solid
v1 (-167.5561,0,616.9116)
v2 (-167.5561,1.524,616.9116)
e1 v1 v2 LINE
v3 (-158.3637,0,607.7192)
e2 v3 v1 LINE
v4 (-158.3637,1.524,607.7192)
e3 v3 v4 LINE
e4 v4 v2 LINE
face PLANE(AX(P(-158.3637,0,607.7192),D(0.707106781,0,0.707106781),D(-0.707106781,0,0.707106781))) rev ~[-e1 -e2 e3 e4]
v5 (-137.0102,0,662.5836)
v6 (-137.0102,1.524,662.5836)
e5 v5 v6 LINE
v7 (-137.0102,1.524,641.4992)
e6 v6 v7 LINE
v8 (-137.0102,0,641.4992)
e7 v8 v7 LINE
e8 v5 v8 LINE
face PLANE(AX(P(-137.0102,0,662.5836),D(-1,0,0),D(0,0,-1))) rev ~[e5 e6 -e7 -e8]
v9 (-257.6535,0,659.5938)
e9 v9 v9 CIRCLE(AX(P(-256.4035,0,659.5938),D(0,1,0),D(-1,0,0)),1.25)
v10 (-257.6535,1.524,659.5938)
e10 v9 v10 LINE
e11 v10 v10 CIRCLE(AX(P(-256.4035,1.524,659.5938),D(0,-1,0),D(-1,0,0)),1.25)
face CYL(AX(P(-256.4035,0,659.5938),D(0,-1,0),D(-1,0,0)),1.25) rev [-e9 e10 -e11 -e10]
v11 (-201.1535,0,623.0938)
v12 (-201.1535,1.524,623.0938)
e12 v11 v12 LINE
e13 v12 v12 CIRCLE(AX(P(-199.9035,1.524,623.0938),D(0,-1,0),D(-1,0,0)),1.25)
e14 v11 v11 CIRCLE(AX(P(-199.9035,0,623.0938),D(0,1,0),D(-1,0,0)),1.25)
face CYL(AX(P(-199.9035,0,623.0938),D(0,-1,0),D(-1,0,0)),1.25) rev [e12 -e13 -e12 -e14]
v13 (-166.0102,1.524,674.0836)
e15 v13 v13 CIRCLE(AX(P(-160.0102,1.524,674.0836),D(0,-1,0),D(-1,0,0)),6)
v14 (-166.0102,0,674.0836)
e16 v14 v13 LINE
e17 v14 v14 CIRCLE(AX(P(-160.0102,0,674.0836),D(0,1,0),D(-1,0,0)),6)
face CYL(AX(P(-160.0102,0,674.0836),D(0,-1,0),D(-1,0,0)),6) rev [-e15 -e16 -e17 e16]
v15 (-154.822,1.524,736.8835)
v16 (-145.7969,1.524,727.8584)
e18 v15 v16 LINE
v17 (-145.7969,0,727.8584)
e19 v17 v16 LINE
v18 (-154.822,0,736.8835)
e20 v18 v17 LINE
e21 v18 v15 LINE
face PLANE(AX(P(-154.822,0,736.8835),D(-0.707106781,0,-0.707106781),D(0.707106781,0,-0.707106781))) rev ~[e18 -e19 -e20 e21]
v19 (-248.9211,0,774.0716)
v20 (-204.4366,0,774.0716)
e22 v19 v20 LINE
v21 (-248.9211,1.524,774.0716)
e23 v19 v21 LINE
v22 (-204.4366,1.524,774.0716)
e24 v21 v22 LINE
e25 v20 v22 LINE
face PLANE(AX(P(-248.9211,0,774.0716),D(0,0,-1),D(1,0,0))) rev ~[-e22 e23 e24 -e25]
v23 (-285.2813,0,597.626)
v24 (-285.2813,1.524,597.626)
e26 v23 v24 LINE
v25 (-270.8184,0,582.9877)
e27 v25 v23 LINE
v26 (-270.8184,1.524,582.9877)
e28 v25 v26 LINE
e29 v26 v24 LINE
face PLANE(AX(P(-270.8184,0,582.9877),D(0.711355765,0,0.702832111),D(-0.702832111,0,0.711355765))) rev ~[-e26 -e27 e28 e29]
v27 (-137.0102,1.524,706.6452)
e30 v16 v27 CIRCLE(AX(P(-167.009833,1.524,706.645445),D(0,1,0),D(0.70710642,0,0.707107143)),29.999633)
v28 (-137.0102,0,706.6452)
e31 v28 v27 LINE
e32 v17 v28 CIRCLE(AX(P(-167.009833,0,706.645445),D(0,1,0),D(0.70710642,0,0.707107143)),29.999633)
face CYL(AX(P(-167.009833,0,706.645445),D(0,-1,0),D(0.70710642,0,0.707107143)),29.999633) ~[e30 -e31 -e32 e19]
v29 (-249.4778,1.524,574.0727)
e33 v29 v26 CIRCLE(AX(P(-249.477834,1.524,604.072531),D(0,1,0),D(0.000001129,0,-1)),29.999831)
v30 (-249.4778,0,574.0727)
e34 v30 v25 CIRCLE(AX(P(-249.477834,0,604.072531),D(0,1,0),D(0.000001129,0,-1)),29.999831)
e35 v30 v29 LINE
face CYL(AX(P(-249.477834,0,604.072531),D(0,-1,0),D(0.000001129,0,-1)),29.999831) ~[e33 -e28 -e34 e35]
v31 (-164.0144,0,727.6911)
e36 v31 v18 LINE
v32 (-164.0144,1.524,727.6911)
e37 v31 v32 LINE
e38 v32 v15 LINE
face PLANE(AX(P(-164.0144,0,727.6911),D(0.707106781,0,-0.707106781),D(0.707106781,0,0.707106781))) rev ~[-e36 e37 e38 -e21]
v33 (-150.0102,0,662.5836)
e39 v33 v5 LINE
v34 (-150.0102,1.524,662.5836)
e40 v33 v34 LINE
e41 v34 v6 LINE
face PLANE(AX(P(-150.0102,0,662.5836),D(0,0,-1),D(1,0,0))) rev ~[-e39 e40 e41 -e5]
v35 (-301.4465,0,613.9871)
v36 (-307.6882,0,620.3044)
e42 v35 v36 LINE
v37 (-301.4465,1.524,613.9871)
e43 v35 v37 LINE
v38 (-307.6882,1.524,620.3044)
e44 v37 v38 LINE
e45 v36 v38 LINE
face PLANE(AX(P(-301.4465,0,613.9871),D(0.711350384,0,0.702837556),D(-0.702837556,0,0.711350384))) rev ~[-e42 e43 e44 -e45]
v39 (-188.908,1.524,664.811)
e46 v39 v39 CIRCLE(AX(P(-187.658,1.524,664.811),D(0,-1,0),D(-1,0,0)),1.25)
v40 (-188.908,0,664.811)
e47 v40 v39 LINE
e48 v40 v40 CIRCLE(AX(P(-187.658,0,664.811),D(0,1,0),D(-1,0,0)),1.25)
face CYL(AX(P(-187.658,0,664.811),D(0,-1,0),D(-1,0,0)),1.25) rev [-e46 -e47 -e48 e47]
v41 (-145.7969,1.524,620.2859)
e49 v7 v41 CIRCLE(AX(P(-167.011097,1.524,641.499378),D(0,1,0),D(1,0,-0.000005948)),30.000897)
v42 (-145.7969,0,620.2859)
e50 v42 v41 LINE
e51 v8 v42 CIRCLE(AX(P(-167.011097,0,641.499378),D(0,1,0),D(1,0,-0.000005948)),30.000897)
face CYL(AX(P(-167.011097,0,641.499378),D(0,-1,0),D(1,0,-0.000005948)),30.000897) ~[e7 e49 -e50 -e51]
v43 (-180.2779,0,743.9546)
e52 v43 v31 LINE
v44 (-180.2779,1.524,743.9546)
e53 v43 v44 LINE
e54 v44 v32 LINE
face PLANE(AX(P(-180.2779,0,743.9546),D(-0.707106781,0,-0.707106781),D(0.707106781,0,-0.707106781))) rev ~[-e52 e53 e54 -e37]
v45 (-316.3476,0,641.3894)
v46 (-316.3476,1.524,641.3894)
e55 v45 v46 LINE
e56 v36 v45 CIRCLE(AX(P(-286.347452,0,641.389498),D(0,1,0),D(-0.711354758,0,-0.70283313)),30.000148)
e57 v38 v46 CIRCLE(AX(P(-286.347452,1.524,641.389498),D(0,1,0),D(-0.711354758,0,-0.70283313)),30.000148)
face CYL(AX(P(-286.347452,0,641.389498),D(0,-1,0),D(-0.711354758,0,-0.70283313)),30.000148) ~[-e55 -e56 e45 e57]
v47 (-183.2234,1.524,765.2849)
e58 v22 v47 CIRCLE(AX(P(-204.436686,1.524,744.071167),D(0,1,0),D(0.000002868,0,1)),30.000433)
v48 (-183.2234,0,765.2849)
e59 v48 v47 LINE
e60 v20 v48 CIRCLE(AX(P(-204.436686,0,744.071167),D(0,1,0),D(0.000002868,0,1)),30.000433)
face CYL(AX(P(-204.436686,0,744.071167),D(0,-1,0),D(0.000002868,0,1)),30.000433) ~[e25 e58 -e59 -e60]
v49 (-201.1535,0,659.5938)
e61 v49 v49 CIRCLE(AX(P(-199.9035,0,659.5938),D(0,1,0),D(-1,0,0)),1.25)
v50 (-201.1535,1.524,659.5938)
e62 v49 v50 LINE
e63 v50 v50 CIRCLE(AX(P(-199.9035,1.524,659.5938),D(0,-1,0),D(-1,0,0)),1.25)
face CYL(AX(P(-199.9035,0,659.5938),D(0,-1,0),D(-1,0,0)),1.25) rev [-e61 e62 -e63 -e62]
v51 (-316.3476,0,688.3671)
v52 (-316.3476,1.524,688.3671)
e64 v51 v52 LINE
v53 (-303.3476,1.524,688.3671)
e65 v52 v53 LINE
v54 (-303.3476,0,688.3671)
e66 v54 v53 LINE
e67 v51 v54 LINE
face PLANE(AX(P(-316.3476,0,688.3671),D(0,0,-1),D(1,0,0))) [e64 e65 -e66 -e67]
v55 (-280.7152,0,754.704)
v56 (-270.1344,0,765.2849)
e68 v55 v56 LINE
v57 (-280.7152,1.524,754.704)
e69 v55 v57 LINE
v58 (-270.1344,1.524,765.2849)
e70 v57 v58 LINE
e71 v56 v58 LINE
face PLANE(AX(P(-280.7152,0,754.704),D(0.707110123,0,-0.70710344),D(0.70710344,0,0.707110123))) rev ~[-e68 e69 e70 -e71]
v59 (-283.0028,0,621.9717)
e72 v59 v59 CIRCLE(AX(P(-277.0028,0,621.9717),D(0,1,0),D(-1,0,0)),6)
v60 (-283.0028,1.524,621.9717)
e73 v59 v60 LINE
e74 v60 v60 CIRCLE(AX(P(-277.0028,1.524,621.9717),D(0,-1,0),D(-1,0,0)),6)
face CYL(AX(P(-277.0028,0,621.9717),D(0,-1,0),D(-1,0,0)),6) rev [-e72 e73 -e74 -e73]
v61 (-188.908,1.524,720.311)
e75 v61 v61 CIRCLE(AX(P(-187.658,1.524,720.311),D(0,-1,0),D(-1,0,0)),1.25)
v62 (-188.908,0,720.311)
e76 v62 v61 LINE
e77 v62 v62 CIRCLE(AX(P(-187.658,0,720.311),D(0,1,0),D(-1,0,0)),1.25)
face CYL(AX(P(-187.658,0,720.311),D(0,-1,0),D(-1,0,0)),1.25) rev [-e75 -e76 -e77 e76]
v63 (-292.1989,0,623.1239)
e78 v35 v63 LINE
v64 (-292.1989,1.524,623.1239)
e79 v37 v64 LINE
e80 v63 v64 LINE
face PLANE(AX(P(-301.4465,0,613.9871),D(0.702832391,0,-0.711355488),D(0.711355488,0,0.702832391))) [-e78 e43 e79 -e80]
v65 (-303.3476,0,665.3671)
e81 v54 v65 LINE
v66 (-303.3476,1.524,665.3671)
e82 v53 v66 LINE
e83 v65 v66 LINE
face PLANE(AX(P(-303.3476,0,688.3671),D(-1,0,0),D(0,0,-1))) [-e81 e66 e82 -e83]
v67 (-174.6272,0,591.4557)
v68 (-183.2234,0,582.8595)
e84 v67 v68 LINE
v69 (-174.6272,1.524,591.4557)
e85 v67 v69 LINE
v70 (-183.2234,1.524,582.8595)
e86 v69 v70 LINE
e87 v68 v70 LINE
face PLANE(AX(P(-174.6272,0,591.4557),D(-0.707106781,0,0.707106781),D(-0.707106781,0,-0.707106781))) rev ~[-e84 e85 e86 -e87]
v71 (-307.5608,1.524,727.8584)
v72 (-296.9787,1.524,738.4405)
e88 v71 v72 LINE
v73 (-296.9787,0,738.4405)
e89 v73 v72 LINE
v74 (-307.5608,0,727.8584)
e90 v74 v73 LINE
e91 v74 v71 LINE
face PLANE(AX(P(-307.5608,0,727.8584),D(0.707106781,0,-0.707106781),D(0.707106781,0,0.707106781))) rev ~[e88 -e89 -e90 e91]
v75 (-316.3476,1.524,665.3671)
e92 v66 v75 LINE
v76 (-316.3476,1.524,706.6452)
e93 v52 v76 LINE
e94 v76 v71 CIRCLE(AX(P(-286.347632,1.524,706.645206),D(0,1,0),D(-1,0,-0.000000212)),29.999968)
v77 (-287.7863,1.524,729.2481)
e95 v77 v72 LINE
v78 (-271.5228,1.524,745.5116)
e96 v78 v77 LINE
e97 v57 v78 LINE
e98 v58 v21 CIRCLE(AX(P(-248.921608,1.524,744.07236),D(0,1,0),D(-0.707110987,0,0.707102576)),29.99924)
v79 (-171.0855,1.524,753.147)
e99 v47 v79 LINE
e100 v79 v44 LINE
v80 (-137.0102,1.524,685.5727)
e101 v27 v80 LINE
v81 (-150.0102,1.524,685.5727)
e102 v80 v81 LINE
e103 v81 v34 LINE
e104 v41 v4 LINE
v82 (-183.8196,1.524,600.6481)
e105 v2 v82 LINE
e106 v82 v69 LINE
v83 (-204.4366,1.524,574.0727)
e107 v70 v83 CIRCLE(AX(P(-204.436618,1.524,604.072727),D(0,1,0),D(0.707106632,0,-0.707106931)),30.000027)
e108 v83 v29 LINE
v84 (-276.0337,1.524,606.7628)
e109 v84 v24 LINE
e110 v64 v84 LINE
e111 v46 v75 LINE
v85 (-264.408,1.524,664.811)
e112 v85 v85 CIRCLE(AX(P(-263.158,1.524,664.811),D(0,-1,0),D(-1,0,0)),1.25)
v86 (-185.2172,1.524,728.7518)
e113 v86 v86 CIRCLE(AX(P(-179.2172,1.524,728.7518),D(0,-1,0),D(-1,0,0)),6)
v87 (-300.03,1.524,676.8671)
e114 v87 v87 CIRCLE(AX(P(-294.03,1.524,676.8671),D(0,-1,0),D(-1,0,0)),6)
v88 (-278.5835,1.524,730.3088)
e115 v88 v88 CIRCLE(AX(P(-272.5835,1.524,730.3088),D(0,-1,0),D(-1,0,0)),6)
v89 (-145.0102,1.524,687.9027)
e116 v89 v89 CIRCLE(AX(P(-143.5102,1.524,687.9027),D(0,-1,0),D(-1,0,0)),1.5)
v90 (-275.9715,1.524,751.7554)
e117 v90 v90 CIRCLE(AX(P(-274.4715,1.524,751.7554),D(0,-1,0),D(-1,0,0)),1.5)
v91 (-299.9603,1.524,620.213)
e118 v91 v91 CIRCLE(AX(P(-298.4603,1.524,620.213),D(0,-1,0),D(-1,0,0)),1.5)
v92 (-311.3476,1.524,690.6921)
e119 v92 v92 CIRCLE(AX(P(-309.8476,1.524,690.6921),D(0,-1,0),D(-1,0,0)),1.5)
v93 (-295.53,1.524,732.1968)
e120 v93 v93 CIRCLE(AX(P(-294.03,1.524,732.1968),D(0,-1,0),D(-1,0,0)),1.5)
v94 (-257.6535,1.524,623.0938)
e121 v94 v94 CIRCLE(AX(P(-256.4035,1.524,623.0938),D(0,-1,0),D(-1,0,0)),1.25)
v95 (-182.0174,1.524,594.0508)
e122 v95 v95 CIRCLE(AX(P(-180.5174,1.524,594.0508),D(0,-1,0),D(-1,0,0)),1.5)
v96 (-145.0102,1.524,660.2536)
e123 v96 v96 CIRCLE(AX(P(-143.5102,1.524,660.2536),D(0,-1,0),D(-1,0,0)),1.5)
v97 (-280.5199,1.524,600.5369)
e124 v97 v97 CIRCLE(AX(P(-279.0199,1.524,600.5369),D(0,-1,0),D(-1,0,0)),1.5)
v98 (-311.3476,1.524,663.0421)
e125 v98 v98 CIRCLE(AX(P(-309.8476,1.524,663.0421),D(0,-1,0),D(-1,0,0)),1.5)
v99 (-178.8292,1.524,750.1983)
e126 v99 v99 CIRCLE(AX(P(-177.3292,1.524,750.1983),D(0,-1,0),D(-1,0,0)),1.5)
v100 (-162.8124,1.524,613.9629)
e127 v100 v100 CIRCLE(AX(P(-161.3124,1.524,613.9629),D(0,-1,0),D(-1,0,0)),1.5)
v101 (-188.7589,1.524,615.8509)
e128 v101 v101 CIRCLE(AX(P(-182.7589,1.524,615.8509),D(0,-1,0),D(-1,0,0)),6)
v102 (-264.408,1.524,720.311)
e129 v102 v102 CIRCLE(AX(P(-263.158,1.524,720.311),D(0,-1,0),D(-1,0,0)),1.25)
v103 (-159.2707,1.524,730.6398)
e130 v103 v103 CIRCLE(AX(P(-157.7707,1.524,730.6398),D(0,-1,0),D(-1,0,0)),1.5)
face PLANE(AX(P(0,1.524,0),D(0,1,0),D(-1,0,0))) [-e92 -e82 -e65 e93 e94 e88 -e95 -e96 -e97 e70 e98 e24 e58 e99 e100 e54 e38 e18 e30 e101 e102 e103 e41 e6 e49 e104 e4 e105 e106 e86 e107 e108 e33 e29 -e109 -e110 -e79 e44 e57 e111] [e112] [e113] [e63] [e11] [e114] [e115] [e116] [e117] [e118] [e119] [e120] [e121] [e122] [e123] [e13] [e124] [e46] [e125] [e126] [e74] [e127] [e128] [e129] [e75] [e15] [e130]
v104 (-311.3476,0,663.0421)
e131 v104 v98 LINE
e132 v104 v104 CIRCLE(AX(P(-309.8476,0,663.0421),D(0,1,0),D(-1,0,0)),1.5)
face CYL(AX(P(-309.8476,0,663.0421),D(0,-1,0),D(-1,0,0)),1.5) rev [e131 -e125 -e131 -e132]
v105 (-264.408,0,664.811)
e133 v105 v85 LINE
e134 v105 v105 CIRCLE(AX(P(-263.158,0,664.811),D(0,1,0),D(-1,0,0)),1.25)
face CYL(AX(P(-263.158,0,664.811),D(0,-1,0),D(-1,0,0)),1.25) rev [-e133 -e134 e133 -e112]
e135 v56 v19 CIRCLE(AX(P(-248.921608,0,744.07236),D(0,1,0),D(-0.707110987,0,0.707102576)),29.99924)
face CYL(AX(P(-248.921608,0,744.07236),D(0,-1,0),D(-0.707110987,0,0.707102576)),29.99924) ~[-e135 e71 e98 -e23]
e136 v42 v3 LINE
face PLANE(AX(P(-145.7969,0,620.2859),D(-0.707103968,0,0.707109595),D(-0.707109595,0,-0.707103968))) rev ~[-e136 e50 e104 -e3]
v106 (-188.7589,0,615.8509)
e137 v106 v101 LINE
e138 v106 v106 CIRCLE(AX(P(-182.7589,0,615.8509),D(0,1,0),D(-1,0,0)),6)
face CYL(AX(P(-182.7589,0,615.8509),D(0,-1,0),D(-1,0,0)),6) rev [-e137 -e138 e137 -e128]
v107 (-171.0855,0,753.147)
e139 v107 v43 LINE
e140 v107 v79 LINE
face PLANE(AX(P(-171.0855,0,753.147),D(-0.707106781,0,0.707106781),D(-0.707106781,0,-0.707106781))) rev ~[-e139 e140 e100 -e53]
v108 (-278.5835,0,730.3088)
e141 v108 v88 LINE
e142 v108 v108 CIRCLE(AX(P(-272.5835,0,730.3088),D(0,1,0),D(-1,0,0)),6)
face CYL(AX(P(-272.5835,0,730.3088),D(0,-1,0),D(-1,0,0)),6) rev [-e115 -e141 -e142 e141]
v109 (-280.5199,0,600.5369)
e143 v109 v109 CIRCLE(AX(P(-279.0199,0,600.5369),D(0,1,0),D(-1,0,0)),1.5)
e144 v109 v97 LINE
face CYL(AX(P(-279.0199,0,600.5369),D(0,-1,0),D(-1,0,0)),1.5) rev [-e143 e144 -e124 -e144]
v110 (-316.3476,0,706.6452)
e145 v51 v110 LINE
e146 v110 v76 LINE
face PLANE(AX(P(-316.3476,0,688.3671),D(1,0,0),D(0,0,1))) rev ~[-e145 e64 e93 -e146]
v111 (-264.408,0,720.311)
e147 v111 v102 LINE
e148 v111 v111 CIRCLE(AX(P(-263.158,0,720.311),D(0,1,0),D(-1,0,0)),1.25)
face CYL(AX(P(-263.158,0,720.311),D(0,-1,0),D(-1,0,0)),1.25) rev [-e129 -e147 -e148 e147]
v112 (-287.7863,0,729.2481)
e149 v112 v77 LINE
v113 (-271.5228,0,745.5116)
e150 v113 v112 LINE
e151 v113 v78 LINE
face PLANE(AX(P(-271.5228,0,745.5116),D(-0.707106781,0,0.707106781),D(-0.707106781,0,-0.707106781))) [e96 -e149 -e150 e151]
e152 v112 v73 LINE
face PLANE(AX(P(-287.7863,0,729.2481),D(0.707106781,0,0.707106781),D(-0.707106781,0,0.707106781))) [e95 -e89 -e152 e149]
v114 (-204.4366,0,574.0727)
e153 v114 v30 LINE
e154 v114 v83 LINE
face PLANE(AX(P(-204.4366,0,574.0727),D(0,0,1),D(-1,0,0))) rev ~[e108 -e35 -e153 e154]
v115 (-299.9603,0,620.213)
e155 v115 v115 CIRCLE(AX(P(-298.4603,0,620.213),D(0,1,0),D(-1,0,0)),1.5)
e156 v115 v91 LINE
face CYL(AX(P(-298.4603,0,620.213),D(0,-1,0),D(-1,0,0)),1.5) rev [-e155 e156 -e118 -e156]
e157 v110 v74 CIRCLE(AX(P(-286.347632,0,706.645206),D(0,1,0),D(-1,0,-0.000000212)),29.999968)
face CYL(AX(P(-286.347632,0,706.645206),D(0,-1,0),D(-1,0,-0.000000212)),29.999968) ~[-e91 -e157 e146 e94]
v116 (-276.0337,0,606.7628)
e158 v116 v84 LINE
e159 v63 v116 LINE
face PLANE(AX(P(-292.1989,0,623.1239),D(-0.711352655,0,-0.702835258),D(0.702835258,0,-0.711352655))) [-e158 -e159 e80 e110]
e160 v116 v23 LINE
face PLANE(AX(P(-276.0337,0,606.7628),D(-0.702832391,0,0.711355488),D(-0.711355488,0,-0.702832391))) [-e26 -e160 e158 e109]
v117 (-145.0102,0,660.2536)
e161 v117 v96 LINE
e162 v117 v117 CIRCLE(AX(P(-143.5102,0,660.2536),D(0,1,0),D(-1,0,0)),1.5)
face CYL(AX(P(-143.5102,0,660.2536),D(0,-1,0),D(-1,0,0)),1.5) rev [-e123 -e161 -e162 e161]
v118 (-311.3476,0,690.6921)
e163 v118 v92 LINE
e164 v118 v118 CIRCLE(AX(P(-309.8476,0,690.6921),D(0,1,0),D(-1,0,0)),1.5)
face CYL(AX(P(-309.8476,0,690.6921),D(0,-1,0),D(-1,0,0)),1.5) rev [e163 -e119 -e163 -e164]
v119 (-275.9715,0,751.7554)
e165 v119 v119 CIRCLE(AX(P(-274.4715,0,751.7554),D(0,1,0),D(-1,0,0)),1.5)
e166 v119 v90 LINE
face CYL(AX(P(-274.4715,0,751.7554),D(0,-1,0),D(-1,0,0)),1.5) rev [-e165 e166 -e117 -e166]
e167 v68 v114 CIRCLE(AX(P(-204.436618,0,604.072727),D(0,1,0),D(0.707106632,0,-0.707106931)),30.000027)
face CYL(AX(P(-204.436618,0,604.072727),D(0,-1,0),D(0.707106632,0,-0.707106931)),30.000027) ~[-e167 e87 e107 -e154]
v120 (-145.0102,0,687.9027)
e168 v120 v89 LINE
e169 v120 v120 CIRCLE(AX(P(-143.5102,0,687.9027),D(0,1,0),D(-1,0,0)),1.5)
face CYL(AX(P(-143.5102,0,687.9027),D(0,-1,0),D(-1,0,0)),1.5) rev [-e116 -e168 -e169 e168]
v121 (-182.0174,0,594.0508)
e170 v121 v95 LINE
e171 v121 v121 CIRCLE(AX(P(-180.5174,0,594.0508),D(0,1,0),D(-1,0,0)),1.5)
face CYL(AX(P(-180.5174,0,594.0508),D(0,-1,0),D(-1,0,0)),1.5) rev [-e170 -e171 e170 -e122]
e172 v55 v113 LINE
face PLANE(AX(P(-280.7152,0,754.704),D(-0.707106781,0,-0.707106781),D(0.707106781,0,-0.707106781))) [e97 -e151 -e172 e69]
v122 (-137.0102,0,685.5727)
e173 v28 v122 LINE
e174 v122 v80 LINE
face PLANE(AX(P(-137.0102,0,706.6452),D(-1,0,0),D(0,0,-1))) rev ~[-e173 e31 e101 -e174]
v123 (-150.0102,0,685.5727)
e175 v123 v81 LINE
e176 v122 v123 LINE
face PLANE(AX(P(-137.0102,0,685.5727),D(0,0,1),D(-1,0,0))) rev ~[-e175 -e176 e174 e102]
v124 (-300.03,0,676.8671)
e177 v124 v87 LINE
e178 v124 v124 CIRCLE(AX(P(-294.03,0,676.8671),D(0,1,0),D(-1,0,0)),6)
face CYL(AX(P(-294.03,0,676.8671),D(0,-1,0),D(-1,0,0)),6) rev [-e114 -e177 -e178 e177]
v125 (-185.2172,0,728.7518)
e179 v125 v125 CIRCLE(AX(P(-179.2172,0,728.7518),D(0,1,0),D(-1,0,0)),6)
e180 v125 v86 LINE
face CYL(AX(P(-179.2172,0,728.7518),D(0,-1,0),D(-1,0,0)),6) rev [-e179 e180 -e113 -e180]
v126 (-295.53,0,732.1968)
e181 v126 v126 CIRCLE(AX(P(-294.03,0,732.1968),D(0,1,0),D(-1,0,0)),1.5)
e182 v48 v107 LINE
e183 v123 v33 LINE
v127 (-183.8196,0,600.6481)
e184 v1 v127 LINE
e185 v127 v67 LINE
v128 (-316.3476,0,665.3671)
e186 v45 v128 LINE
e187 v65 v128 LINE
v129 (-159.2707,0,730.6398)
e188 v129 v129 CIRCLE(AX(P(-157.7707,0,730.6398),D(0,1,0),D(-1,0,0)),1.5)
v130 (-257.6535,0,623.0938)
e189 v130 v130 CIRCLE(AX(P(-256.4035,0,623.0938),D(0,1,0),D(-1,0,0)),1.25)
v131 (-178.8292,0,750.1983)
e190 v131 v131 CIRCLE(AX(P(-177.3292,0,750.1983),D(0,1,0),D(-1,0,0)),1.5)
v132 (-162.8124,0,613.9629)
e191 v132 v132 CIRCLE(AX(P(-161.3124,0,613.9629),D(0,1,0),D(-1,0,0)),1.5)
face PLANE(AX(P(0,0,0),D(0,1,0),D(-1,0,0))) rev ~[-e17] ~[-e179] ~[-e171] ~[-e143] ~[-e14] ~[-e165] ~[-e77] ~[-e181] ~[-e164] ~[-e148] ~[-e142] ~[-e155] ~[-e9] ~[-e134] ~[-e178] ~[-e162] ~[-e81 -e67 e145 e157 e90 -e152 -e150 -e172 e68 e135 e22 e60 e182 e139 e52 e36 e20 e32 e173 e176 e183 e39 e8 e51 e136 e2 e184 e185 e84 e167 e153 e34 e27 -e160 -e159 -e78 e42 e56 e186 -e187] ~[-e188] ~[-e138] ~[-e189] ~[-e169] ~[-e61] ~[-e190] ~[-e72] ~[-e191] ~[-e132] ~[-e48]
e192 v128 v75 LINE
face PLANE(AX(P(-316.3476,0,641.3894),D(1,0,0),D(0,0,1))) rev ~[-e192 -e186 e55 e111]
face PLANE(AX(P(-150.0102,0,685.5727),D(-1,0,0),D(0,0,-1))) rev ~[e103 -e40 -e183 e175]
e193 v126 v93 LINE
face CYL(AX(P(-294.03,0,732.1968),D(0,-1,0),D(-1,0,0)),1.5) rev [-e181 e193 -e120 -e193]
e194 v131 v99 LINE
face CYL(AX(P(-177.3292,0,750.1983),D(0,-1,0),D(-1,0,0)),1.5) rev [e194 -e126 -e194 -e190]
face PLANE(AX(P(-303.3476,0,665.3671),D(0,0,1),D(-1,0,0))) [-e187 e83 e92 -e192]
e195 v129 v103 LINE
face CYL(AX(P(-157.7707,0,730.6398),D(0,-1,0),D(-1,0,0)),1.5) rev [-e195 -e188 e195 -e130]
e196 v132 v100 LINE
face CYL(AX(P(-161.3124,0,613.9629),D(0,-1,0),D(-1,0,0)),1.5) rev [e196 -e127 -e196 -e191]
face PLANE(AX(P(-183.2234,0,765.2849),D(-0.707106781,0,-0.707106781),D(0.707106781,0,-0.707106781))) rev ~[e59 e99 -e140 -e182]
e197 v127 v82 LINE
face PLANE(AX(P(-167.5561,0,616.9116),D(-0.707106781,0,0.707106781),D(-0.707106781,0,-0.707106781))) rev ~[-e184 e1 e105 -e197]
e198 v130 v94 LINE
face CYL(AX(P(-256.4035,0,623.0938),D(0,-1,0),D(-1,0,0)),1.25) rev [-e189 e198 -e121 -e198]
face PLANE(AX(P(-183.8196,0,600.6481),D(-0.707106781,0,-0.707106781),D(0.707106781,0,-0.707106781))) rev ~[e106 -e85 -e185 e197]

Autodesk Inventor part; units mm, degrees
ref_plane "YZ Plane" through (0, 0, 0) normal (1, 0, 0) x (0, 1, 0)
ref_plane "XZ Plane" through (0, 0, 0) normal (0, 1, 0) x (-1, 0, 0)
ref_plane "XY Plane" through (0, 0, 0) normal (0, 0, 1) x (1, 0, 0)
sketch "Sketch1" plane through (0, 0, 0) normal (0, 1, 0) x (-1, 0, 0)
  line L0 (248.9211, 774.0716) -> (204.4366, 774.0716)
  line L1 (204.4366, 574.0727) -> (249.4778, 574.0727)
  line L2 (316.3476, 688.3671) -> (303.3476, 688.3671)
  line L3 (303.3476, 688.3671) -> (303.3476, 665.3671)
  line L4 (303.3476, 665.3671) -> (316.3476, 665.3671)
  line L5 (137.0102, 685.5727) -> (150.0102, 685.5727)
  line L6 (150.0102, 685.5727) -> (150.0102, 662.5836)
  line L7 (150.0102, 662.5836) -> (137.0102, 662.5836)
  line L8 (316.3476, 641.3894) -> (316.3476, 665.3671)
  line L9 (316.3476, 688.3671) -> (316.3476, 706.6452)
  line L10 (137.0102, 706.6452) -> (137.0102, 685.5727)
  line L11 (137.0102, 662.5836) -> (137.0102, 641.4992)
  line L12 (280.7152, 754.704) -> (271.5228, 745.5116)
  line L13 (271.5228, 745.5116) -> (287.7863, 729.2481)
  line L14 (287.7863, 729.2481) -> (296.9787, 738.4405)
  line L15 (158.3637, 607.7192) -> (167.5561, 616.9116)
  line L16 (167.5561, 616.9116) -> (183.8196, 600.6481)
  line L17 (183.8196, 600.6481) -> (174.6272, 591.4557)
  line L18 (145.7969, 620.2859) -> (158.3637, 607.7192)
  line L19 (174.6272, 591.4557) -> (183.2234, 582.8595)
  line L20 (307.5608, 727.8584) -> (296.9787, 738.4405)
  line L21 (280.7152, 754.704) -> (270.1344, 765.2849)
  line L22 (171.0855, 753.147) -> (180.2779, 743.9546)
  line L23 (180.2779, 743.9546) -> (164.0144, 727.6911)
  line L24 (164.0144, 727.6911) -> (154.822, 736.8835)
  line L25 (301.4465, 613.9871) -> (292.1989, 623.1239)
  line L26 (292.1989, 623.1239) -> (276.0337, 606.7628)
  line L27 (276.0337, 606.7628) -> (285.2813, 597.626)
  line L28 (270.8184, 582.9877) -> (285.2813, 597.626)
  line L29 (301.4465, 613.9871) -> (307.6882, 620.3044)
  line L30 (183.2234, 765.2849) -> (171.0855, 753.147)
  line L31 (154.822, 736.8835) -> (145.7969, 727.8584)
  arc A0 (261.9333, 773.4859) -> (260.5191, 774.0716) centre (260.5191, 772.0716) ccw
  arc A1 (270.1344, 765.2849) -> (248.9211, 774.0716) centre (248.9211, 744.0716) ccw
  arc A2 (204.4366, 774.0716) -> (183.2234, 765.2849) centre (204.4366, 744.0716) ccw
  arc A3 (145.7969, 727.8584) -> (137.0102, 706.6452) centre (167.0102, 706.6452) ccw
  arc A4 (137.0102, 641.4992) -> (145.7969, 620.2859) centre (167.0102, 641.4992) ccw
  arc A5 (183.2234, 582.8595) -> (204.4366, 574.0727) centre (204.4366, 604.0727) ccw
  arc A6 (249.4778, 574.0727) -> (270.8184, 582.9877) centre (249.4778, 604.0727) ccw
  arc A7 (307.6882, 620.3044) -> (316.3476, 641.3894) centre (286.3476, 641.3894) ccw
  arc A8 (316.3476, 706.6452) -> (307.5608, 727.8584) centre (286.3476, 706.6452) ccw
  circle A9 centre (279.0199, 600.5369) radius 1.5
  circle A10 centre (309.8476, 663.0421) radius 1.5
  circle A11 centre (309.8476, 690.6921) radius 1.5
  circle A12 centre (294.03, 732.1968) radius 1.5
  circle A13 centre (274.4715, 751.7554) radius 1.5
  circle A14 centre (157.7707, 730.6398) radius 1.5
  circle A15 centre (143.5102, 687.9027) radius 1.5
  circle A16 centre (143.5102, 660.2536) radius 1.5
  circle A17 centre (161.3124, 613.9629) radius 1.5
  circle A18 centre (177.3292, 750.1983) radius 1.5
  circle A19 centre (180.5174, 594.0508) radius 1.5
  circle A20 centre (298.4603, 620.213) radius 1.5
  circle A21 centre (263.158, 720.311) radius 1.25
  circle A22 centre (187.658, 720.311) radius 1.25
  circle A23 centre (263.158, 664.811) radius 1.25
  circle A24 centre (187.658, 664.811) radius 1.25
  line L32 (263.158, 720.311) -> (187.658, 720.311)
  line L33 (263.158, 664.811) -> (187.658, 664.811)
  line L34 (263.158, 720.311) -> (263.158, 664.811)
  line L35 (187.658, 720.311) -> (187.658, 664.811)
  circle A25 centre (256.4035, 659.5938) radius 1.25
  circle A26 centre (199.9035, 659.5938) radius 1.25
  circle A27 centre (256.4035, 623.0938) radius 1.25
  circle A28 centre (199.9035, 623.0938) radius 1.25
  line L36 (256.4035, 659.5938) -> (199.9035, 659.5938)
  line L37 (256.4035, 659.5938) -> (256.4035, 623.0938)
  line L38 (256.4035, 623.0938) -> (199.9035, 623.0938)
  line L39 (199.9035, 623.0938) -> (199.9035, 659.5938)
  circle A29 centre (179.2172, 728.7518) radius 6
  circle A30 centre (160.0102, 674.0836) radius 6
  circle A31 centre (182.7589, 615.8509) radius 6
  circle A32 centre (277.0028, 621.9717) radius 6
  circle A33 centre (294.03, 676.8671) radius 6
  circle A34 centre (272.5835, 730.3088) radius 6
  point P0 (0, 0)
  point P1 (316.3476, 774.0716)
  point P2 (137.0102, 574.0727)
  point P3 (137.0102, 774.0716)
  point P4 (317.0102, 574.0727)
  point P5 (262.0102, 574.0727)
  point P6 (316.3476, 629.0688)
  point P7 (316.3476, 719.0716)
  point P8 (261.3476, 774.0716)
  point P9 (192.0102, 774.0716)
  point P10 (137.0102, 719.0716)
  point P11 (137.0102, 629.0727)
  point P12 (192.0102, 574.0727)
  dimension "d0" = 200
  dimension "d1" = 180
  dimension "d2" = 55
  dimension "d3" = 55
  dimension "d4" = 55
  dimension "d5" = 55
  dimension "d6" = 55
  dimension "d7" = 55
  dimension "d8" = 55
  dimension "d9" = 55
  dimension "d10" = 13
  dimension "d11" = 23
  dimension "d13" = 13
  dimension "d14" = 13
  dimension "d15" = 23
  dimension "d18" = 77.7818
  dimension "d21" = 13
  dimension "d24" = 23
  dimension "d26" = 23
  dimension "d30" = 23
  dimension "d32" = 2
  dimension "d33" = 30
  dimension "d36" = 3
  dimension "d38" = 3
  dimension "d39" = 3
  dimension "d40" = 3
  dimension "d41" = 3
  dimension "d43" = 3
  dimension "d44" = 3
  dimension "d45" = 3
  dimension "d46" = 3
  dimension "d49" = 6.5
  dimension "d50" = 2.325
  dimension "d53" = 2.325
  dimension "d54" = 6.5
  dimension "d55" = 2.33
  dimension "d56" = 6.5
  dimension "d57" = 2.33
  dimension "d58" = 6.5
  dimension "d60" = 3
  dimension "d61" = 6.5
  dimension "d62" = 2.33
  dimension "d63" = 2.33
  dimension "d64" = 6.5
  dimension "d65" = 6.5
  dimension "d66" = 2.33
  dimension "d67" = 6.5
  dimension "d68" = 2.33
  dimension "d69" = 2.33
  dimension "d70" = 6.5
  dimension "d71" = 13
  dimension "d72" = 6
  dimension "d73" = 2.33
  dimension "d74" = 3
  dimension "d75" = 13
  dimension "d78" = 2.33
  dimension "d79" = 6.5
  dimension "d80" = 3
  dimension "d81" = 6.5
  dimension "d82" = 2.33
  dimension "d85" = 9.2476
  dimension "d86" = 13
  dimension "d87" = 13
  dimension "d88" = 13
extrude "Extrusion1" add sketch "Sketch1" along normal blind 1.524 contours A1 L21 L12 L13 L14 L20 A8 L9 L2 L3 L4 L8 A7 L29 L25 L26 L27 L28 A6 L1 A5 L19 L17 L16 L15 L18 A4 L11 L7 L6 L5 L10 A3 L31 L24 L23 L22 L30 A2 L0 | A9 | A10 | A11 | A12 | A13 | A14 | A15 | A16 | A17 | A18 | A19 | A20 | A21 L34 L32 | L32 L34 A21 | A21 L34 A23 L33 A24 L35 A22 L32 | L32 L35 A22 | A22 L35 L32 | L34 L33 A23 | A23 L33 L34 | L35 L33 A24 | A24 L33 L35 | A25 L37 L36 | L36 L37 A25 | A25 L37 A27 L38 A28 L39 A26 L36 | L36 L39 A26 | A26 L39 L36 | L37 L38 A27 | A27 L38 L37 | L39 L38 A28 | A28 L38 L39 | A29 | A30 | A31 | A32 | A33 | A34
extrude "Extrusion2" cut sketch "Sketch1" along normal blind 200 contours A9 | A10 | A11 | A12 | A13 | A14 | A15 | A16 | A17 | A18 | A19 | A20
extrude "Extrusion3" cut sketch "Sketch1" along normal blind 200 contours A29 | A30 | A31 | A32 | A33 | A34
extrude "Extrusion5" cut sketch "Sketch1" along normal blind 200 contours A21 L34 L32 | L32 L34 A21 | L32 L35 A22 | A22 L35 L32 | L34 L33 A23 | A23 L33 L34 | L35 L33 A24 | A24 L33 L35 | A25 L37 L36 | L36 L37 A25 | L36 L39 A26 | A26 L39 L36 | L37 L38 A27 | A27 L38 L37 | L39 L38 A28 | A28 L38 L39
equation "\"d3\" = d2"
equation "\"d5\" = d4"
equation "\"d6\" = d4"
equation "\"d7\" = d6"
equation "\"d8\" = d4"
equation "\"d9\" = d8"
properties part number "Base"
